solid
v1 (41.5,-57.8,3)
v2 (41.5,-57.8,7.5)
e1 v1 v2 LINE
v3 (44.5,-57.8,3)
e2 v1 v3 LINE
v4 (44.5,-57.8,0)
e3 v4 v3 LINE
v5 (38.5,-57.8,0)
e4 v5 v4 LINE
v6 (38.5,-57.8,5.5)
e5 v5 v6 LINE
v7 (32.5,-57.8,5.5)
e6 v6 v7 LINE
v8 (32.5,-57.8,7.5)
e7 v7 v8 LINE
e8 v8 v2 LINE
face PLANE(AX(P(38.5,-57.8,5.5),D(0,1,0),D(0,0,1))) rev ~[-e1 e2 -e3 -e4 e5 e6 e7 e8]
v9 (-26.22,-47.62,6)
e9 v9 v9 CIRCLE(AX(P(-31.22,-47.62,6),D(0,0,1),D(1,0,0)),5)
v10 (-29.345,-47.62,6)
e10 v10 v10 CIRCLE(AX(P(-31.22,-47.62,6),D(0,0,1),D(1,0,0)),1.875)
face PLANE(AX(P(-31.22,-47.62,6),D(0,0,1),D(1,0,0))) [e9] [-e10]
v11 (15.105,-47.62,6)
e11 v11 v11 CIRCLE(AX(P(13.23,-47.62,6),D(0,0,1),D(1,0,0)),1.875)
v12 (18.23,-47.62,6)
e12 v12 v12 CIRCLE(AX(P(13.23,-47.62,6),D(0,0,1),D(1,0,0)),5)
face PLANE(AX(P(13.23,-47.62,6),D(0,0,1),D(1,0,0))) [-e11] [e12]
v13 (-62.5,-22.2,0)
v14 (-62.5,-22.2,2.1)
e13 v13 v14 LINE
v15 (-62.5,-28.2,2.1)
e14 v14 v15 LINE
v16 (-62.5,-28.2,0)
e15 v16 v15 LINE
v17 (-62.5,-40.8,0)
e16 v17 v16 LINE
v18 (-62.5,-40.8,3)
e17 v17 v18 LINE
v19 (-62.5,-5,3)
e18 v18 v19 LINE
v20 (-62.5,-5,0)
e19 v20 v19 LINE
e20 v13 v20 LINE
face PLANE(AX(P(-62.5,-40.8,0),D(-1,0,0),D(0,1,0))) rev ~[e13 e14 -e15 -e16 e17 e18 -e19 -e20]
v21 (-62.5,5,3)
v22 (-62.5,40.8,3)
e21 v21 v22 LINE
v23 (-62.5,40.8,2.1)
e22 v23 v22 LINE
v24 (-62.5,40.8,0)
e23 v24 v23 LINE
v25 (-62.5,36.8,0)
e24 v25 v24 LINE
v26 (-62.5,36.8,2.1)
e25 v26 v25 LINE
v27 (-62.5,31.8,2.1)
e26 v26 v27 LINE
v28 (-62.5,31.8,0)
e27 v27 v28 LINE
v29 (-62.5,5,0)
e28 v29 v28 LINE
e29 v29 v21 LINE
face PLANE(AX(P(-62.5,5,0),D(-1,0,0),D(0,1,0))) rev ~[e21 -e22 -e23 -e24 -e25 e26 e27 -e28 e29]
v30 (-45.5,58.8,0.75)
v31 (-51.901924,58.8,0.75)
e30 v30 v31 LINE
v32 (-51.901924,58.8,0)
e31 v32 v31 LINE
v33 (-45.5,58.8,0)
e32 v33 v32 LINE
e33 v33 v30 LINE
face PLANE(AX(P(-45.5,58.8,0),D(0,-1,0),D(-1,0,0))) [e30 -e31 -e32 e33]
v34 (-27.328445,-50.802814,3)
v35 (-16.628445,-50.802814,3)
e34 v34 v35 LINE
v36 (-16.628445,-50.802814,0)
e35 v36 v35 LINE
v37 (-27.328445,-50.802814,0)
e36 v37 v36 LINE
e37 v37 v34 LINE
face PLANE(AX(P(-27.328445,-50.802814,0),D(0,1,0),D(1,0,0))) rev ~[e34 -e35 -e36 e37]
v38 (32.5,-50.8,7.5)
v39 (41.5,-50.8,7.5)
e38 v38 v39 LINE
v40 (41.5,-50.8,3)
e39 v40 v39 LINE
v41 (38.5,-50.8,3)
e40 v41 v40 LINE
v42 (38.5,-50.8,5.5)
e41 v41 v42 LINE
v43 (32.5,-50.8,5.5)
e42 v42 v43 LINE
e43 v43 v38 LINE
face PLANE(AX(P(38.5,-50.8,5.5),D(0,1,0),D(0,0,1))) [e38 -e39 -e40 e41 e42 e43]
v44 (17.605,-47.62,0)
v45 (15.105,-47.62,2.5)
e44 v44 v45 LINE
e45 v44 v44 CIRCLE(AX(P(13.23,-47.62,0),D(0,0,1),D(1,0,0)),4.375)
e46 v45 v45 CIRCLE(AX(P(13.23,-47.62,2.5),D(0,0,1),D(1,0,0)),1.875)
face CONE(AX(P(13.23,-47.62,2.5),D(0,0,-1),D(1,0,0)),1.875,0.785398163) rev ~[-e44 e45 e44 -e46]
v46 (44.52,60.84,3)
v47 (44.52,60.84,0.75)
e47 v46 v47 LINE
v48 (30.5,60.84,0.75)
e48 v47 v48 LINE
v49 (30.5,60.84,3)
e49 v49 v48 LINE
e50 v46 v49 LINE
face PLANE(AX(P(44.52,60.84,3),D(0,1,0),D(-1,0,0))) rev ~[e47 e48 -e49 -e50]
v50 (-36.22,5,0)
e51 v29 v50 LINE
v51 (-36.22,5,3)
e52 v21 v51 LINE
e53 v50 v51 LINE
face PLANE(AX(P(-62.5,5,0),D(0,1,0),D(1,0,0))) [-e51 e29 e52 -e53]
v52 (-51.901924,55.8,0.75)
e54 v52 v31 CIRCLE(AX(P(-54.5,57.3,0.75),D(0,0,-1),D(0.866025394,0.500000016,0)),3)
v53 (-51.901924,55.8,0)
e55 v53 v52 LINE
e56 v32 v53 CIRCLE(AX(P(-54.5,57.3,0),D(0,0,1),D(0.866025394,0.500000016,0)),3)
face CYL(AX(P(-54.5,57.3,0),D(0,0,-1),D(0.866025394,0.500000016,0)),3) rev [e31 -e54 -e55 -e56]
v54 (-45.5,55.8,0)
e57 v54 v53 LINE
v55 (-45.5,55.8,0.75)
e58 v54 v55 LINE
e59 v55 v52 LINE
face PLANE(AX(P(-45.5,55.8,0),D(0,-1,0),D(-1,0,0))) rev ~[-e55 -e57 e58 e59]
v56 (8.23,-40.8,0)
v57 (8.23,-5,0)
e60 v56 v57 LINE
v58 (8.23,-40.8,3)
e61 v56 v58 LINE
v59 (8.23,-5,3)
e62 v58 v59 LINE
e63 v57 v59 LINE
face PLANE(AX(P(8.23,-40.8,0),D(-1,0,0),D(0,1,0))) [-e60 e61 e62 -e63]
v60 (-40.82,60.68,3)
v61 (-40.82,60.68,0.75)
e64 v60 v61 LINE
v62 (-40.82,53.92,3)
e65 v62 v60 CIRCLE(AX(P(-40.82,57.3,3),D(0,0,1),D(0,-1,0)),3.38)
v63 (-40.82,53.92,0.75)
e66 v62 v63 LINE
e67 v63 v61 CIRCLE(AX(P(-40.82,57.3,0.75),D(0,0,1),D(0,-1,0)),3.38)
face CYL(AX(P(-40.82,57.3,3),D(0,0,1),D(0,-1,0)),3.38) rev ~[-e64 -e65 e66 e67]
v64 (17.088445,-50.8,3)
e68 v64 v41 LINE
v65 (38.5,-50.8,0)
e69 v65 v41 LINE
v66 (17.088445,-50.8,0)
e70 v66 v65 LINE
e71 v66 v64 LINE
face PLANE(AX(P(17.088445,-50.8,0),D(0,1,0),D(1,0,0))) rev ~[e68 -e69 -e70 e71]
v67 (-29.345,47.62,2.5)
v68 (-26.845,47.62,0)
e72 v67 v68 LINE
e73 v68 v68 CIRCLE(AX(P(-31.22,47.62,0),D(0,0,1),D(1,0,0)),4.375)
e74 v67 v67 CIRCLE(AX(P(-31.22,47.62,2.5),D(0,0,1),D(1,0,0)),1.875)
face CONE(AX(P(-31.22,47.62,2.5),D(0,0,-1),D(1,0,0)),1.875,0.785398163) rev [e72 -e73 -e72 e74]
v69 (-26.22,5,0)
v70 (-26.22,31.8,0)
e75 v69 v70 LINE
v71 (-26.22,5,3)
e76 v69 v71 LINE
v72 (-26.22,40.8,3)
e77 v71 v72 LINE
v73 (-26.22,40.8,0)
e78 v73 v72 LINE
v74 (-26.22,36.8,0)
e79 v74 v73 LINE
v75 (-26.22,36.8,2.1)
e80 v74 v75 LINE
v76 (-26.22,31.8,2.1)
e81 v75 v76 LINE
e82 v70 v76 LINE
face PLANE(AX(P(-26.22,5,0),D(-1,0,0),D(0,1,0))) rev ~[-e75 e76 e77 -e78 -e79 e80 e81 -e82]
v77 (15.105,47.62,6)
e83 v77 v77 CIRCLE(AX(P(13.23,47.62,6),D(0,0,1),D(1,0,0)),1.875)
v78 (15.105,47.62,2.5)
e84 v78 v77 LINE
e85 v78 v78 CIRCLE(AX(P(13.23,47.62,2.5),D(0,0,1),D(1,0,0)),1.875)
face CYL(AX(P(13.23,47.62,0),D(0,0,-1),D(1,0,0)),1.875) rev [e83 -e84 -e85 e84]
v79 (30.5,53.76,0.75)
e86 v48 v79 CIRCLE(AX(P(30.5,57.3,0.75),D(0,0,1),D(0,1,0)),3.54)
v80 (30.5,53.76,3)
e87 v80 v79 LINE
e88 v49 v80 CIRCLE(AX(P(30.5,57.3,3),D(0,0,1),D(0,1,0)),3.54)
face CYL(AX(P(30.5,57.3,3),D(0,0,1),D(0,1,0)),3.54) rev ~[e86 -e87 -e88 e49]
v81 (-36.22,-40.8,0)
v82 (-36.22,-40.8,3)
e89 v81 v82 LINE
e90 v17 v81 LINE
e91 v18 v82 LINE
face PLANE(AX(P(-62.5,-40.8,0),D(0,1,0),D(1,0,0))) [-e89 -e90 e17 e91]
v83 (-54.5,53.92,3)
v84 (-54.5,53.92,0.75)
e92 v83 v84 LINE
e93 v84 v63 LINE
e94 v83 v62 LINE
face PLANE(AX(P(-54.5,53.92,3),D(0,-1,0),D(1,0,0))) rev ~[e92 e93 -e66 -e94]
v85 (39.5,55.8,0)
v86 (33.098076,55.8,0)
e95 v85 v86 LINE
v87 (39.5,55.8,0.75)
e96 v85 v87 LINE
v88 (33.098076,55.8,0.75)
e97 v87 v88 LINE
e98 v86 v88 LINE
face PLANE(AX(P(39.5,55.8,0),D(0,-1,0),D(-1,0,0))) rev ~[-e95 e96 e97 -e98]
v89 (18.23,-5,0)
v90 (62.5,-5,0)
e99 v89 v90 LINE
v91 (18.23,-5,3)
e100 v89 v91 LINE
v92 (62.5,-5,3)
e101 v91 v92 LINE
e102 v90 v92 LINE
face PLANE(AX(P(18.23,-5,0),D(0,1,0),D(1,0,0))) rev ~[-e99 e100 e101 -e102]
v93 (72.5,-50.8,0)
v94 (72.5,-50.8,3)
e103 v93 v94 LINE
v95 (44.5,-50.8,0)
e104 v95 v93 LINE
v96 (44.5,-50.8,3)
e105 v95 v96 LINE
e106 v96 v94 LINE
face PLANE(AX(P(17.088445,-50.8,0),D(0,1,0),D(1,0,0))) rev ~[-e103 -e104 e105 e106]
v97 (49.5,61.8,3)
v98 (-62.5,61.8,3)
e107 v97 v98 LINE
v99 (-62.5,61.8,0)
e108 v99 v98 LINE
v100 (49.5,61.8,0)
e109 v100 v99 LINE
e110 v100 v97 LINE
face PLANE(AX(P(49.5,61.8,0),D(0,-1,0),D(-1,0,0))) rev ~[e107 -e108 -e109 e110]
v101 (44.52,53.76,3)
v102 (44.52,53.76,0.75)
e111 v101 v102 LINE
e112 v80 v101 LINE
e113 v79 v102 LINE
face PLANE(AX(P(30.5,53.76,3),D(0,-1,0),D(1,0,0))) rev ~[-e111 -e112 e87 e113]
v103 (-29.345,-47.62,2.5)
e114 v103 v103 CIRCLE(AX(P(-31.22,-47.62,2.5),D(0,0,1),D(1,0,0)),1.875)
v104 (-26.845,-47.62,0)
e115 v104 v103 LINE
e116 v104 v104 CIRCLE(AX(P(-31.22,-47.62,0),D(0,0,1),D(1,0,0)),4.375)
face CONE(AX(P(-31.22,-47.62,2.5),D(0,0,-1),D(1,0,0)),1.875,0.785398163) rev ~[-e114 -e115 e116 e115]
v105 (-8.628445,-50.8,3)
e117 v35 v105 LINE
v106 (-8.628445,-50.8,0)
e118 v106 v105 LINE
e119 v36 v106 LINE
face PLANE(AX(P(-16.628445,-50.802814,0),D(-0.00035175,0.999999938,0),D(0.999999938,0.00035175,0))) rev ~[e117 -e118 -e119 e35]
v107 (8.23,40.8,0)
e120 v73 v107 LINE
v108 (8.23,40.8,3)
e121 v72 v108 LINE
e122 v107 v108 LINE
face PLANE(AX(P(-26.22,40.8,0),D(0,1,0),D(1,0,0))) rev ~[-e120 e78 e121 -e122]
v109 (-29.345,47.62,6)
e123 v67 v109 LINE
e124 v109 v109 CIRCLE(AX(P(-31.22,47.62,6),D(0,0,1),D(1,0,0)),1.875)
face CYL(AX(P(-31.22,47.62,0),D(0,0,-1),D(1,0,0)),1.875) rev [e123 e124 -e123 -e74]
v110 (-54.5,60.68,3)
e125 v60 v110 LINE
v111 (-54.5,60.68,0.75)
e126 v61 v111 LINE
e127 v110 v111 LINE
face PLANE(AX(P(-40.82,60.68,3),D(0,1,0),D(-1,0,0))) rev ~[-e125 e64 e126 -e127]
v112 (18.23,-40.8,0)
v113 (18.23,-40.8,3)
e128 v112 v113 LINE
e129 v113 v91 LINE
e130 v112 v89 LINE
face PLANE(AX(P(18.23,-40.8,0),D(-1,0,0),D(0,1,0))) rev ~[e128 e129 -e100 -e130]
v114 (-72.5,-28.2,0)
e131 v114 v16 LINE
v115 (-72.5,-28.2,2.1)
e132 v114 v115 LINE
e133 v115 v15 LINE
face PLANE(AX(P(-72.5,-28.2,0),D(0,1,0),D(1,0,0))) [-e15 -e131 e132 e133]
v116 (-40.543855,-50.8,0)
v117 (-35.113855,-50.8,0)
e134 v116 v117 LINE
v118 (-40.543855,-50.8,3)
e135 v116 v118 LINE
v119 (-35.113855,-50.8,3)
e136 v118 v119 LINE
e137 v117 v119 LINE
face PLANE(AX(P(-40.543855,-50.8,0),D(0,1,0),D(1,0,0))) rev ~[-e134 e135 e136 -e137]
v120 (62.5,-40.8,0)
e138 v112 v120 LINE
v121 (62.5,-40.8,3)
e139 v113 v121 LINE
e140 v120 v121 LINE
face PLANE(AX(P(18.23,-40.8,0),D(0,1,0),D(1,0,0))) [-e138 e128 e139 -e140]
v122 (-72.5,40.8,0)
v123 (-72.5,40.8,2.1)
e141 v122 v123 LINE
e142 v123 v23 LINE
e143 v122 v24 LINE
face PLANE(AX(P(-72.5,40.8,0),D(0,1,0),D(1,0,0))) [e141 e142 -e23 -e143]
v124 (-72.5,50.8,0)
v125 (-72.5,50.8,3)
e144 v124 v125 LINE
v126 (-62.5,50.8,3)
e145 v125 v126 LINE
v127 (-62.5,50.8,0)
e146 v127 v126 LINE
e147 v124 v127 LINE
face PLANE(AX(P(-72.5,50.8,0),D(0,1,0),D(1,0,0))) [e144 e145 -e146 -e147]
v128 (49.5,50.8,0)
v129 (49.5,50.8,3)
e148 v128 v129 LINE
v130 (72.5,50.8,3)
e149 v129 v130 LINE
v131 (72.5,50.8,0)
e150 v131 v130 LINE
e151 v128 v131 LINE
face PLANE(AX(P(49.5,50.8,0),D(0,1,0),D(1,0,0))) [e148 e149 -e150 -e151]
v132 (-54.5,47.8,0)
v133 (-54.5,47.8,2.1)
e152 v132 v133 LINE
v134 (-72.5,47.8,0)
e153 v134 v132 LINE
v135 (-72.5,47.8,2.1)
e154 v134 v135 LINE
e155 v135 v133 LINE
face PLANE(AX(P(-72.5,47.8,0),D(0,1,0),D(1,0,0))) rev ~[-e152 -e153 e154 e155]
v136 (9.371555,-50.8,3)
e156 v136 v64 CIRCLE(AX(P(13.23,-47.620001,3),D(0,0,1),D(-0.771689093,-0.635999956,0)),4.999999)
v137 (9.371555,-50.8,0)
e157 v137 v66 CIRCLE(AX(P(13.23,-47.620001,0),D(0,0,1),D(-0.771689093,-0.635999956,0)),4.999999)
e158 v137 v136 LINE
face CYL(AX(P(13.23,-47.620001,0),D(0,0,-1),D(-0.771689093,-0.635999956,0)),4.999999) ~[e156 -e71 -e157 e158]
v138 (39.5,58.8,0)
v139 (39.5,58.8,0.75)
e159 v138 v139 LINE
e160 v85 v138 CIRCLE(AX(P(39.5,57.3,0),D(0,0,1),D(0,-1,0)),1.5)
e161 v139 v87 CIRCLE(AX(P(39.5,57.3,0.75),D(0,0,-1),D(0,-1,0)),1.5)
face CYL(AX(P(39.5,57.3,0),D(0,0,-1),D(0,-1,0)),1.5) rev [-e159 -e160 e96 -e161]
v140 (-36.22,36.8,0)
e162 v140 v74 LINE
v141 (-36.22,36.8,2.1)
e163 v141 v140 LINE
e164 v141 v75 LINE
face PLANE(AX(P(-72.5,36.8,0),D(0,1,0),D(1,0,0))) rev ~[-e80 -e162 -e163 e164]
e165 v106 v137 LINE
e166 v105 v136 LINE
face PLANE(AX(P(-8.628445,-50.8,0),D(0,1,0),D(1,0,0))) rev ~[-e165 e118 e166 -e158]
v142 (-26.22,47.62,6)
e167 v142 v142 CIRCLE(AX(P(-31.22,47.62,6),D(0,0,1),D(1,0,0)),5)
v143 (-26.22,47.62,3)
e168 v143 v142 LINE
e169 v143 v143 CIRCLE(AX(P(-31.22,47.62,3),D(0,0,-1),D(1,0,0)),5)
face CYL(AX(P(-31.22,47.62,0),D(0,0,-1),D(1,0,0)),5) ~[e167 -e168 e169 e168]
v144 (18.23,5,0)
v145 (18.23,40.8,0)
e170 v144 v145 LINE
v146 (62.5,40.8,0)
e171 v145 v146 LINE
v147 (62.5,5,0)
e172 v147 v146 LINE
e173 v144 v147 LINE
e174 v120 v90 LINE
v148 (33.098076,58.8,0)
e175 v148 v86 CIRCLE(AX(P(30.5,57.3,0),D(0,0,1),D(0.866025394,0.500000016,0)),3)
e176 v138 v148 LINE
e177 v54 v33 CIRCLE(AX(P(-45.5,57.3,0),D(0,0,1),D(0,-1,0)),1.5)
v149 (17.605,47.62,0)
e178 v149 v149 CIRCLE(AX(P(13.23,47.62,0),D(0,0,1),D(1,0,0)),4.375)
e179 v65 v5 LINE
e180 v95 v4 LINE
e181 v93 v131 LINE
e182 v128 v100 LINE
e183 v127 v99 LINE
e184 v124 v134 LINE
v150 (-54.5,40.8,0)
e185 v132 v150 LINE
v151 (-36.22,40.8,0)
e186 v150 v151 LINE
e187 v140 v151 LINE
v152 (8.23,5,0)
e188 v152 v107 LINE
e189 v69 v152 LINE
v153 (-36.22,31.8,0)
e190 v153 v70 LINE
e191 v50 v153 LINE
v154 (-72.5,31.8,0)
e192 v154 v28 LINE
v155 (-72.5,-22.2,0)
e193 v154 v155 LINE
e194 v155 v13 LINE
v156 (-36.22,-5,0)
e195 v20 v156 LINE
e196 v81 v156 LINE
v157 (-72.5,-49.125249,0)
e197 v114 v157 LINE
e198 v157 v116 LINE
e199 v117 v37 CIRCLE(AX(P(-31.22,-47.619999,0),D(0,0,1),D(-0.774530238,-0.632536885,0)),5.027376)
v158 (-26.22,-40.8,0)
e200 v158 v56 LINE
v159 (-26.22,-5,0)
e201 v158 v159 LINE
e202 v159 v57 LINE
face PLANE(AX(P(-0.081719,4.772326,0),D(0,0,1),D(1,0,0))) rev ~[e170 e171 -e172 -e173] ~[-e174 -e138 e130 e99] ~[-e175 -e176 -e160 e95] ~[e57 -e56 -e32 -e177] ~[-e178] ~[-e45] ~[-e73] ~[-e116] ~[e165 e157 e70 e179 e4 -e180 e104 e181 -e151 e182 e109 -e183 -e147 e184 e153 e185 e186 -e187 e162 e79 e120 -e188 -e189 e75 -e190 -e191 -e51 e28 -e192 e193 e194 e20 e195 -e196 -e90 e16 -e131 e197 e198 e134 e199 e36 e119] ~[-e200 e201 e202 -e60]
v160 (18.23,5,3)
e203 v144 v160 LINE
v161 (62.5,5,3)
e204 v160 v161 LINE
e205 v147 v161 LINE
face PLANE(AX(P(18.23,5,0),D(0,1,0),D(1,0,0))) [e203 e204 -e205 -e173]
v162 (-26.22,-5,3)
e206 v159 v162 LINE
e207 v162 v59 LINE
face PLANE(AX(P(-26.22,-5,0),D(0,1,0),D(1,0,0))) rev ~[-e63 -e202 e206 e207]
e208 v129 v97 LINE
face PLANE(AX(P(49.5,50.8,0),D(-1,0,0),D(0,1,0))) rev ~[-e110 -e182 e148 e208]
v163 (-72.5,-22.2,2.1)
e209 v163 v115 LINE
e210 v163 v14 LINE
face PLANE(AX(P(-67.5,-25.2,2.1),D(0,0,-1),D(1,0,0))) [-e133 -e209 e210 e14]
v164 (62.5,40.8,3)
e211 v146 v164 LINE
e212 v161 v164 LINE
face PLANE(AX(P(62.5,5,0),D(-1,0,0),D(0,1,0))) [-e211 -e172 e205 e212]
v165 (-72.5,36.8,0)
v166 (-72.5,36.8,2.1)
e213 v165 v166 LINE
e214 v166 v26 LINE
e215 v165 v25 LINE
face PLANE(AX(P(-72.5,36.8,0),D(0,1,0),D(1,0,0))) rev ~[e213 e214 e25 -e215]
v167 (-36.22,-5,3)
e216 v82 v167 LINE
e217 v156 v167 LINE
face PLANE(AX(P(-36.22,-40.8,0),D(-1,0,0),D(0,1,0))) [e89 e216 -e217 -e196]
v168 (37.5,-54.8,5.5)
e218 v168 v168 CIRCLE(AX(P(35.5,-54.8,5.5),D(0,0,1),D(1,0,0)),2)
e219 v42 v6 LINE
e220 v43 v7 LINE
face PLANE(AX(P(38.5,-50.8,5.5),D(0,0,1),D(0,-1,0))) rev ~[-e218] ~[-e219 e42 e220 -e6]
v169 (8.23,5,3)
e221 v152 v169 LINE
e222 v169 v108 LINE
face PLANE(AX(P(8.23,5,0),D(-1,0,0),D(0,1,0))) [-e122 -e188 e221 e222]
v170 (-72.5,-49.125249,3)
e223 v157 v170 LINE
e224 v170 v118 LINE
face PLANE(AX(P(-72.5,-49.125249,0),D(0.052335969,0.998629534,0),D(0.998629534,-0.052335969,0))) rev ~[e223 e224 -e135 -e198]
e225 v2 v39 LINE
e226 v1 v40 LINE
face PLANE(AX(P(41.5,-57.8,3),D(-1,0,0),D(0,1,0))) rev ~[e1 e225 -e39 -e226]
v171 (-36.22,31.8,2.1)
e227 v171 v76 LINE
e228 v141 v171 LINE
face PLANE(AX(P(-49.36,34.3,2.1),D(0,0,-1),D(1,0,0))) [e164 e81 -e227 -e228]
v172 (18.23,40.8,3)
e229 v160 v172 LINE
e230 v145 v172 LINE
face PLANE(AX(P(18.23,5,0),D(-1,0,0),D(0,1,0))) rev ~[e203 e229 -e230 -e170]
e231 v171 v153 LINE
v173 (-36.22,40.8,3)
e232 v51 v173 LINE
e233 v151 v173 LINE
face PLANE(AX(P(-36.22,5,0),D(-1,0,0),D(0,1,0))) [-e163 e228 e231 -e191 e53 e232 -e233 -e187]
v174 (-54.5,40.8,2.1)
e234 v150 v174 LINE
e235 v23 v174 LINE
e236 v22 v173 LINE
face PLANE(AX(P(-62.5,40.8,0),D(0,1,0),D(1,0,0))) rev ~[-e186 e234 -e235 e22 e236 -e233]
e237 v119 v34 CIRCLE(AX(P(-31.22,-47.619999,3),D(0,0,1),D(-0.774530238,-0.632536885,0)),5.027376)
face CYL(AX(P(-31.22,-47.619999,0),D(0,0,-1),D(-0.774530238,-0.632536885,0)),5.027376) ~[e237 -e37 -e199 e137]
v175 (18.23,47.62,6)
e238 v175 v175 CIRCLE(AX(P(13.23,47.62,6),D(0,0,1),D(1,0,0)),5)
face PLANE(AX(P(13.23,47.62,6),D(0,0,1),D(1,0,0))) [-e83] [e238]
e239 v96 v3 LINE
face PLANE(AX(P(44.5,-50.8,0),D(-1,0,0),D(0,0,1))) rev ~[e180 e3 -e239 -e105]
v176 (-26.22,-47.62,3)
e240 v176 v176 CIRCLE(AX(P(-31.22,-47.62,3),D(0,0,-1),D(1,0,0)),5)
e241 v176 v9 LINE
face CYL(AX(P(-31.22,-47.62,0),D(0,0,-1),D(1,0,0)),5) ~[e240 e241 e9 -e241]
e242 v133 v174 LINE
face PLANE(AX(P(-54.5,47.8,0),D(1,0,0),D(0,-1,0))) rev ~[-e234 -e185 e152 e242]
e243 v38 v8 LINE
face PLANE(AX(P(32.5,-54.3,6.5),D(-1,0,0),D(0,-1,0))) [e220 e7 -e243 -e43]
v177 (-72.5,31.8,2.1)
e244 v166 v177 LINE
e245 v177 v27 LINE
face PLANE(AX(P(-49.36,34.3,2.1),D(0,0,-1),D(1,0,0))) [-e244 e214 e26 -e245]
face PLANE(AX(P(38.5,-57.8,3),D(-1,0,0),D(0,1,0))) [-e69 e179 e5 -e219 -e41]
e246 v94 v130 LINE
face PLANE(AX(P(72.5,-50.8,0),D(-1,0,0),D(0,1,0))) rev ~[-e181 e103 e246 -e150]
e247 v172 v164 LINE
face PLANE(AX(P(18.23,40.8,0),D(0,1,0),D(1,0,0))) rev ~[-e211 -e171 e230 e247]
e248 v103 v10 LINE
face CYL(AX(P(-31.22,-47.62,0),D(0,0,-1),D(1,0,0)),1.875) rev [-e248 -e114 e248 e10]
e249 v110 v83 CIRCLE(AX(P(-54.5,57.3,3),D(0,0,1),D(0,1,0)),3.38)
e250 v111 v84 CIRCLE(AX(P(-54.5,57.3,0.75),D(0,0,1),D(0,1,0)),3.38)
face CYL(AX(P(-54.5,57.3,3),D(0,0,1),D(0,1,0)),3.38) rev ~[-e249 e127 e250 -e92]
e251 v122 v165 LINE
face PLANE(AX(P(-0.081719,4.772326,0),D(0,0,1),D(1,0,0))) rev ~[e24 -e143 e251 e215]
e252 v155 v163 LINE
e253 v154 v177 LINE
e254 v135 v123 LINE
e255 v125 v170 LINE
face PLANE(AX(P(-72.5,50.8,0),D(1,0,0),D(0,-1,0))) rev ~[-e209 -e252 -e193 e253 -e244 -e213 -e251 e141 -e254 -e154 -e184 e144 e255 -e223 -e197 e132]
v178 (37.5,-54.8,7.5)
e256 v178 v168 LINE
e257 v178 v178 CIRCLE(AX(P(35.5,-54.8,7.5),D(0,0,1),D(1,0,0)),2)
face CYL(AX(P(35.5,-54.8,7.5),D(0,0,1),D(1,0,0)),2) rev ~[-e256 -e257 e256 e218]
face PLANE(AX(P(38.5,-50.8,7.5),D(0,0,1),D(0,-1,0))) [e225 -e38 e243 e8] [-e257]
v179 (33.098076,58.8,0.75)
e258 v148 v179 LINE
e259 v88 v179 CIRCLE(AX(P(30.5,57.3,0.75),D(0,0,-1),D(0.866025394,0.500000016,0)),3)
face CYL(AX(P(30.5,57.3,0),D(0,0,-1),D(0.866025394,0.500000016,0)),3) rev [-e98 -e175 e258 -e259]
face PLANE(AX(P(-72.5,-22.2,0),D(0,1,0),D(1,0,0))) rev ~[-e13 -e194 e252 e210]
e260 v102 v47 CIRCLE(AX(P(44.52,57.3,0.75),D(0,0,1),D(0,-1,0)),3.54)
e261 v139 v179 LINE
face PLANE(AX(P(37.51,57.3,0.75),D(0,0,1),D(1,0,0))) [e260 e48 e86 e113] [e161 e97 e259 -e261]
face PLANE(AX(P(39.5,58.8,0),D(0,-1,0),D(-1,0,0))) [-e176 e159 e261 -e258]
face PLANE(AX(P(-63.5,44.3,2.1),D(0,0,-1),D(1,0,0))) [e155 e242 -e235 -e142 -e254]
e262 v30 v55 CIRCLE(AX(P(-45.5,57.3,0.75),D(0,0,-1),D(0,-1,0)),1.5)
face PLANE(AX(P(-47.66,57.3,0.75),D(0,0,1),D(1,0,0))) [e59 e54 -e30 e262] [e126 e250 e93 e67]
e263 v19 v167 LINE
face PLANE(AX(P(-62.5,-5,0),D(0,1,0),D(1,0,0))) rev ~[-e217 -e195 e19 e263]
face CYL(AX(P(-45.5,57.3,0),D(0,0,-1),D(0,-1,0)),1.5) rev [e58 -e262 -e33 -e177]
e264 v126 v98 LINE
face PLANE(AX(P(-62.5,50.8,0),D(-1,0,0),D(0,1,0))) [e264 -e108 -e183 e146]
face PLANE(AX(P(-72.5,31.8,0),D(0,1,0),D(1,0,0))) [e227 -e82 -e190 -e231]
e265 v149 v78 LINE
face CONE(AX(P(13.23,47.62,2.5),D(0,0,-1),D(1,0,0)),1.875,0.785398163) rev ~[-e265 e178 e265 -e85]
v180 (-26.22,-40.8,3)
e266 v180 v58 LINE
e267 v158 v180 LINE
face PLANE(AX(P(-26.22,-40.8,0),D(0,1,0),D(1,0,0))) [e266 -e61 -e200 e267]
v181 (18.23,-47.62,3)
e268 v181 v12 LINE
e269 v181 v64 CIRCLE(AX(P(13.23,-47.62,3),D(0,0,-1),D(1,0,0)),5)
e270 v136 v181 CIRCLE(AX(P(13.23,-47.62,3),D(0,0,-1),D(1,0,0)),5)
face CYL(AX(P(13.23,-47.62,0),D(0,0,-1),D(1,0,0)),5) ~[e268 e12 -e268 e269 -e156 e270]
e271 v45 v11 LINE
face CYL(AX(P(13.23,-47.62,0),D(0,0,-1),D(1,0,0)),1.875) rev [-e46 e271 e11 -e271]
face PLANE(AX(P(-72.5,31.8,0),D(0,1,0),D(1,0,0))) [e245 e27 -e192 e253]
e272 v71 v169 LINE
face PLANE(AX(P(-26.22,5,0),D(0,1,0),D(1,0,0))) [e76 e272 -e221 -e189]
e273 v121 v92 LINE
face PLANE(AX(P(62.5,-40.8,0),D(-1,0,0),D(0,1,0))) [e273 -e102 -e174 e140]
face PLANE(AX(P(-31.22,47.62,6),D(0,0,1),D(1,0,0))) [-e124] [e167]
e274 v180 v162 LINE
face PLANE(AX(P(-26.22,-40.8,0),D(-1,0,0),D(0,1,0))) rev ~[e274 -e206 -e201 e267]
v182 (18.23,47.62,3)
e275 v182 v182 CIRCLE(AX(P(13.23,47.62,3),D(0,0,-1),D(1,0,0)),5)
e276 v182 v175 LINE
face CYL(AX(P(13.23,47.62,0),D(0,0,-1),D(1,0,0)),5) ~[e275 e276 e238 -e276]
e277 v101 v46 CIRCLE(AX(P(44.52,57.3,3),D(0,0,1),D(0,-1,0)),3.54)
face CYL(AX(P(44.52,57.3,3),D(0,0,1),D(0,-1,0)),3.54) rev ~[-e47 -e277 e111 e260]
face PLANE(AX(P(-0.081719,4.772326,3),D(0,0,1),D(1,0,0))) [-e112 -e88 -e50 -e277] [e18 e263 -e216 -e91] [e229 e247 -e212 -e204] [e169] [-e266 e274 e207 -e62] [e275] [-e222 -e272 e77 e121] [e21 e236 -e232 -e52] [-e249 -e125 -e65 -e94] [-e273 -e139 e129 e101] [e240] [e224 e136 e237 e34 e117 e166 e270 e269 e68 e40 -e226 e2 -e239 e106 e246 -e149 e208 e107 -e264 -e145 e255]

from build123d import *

# Parameters (mm, degrees)
SKETCH_R        = 1.875
SKETCH_W        = 26.28
SKETCH_H        = 35.8
SKETCH_W_2      = 34.45
SKETCH_W_3      = 44.27
PAD_DEPTH       = 3
SKETCH001_W     = 6
SKETCH001_H     = 3
PAD001_DEPTH    = 7
SKETCH002_W     = 3
SKETCH002_H     = 7
PAD002_DEPTH    = 4.5
SKETCH003_W     = 7
SKETCH003_H     = 2
PAD003_DEPTH    = 6
SKETCH004_R     = 2
POCKET_DEPTH    = 5
SKETCH005_R     = 5
SKETCH005_R_2   = 1.875
PAD004_DEPTH    = 6
POCKET001_DEPTH = 2.25
CHAMFER_SIZE    = 2.5
SKETCH007_W     = 46.28
SKETCH007_H     = 5
SKETCH007_W_2   = 18
SKETCH007_H_2   = 7
SKETCH007_W_3   = 10
SKETCH007_H_3   = 6
POCKET002_DEPTH = 2.1


with BuildPart() as part:
    # Sketch → Pad (new body)
    with BuildSketch(Plane.XY):
        with BuildLine():
            Line((-72.5, 50.8), (-72.5, -49.125249))
            Line((-72.5, -49.125249), (-40.543855, -50.8))
            Line((-40.543855, -50.8), (-35.113855, -50.8))
            ThreePointArc((-35.113855, -50.8), (-31.221817, -52.647375), (-27.328445, -50.802814))
            Line((-27.328445, -50.802814), (-16.628445, -50.802814))
            Line((-16.628445, -50.802814), (-8.628445, -50.8))
            Line((-8.628445, -50.8), (9.371555, -50.8))
            ThreePointArc((9.371555, -50.8), (13.23, -52.62), (17.088445, -50.8))
            Line((17.088445, -50.8), (72.5, -50.8))
            Line((72.5, -50.8), (72.5, 50.8))
            Line((49.5, 50.8), (72.5, 50.8))
            Line((49.5, 50.8), (49.5, 61.8))
            Line((49.5, 61.8), (-62.5, 61.8))
            Line((-62.5, 50.8), (-62.5, 61.8))
            Line((-72.5, 50.8), (-62.5, 50.8))
        make_face()
        with Locations((13.23, 47.62)):
            Circle(SKETCH_R, mode=Mode.SUBTRACT)
        with Locations((13.23, -47.62)):
            Circle(SKETCH_R, mode=Mode.SUBTRACT)
        with Locations((-31.22, -47.62)):
            Circle(SKETCH_R, mode=Mode.SUBTRACT)
        with Locations((-31.22, 47.62)):
            Circle(SKETCH_R, mode=Mode.SUBTRACT)
        with Locations((-49.36, 22.9)):
            Rectangle(SKETCH_W, SKETCH_H, mode=Mode.SUBTRACT)
        with Locations((-8.995, 22.9)):
            Rectangle(SKETCH_W_2, SKETCH_H, mode=Mode.SUBTRACT)
        with Locations((40.365, 22.9)):
            Rectangle(SKETCH_W_3, SKETCH_H, mode=Mode.SUBTRACT)
        with Locations((40.365, -22.9)):
            Rectangle(SKETCH_W_3, SKETCH_H, mode=Mode.SUBTRACT)
        with Locations((-8.995, -22.9)):
            Rectangle(SKETCH_W_2, SKETCH_H, mode=Mode.SUBTRACT)
        with Locations((-49.36, -22.9)):
            Rectangle(SKETCH_W, SKETCH_H, mode=Mode.SUBTRACT)
        with BuildLine():
            ThreePointArc((-45.5, 55.8), (-44, 57.3), (-45.5, 58.8))
            Line((-45.5, 58.8), (-51.901924, 58.8))
            ThreePointArc((-51.901924, 58.8), (-57.5, 57.3), (-51.901924, 55.8))
            Line((-45.5, 55.8), (-51.901924, 55.8))
        make_face(mode=Mode.SUBTRACT)
        with BuildLine():
            ThreePointArc((39.5, 55.8), (41, 57.3), (39.5, 58.8))
            Line((39.5, 58.8), (33.098076, 58.8))
            ThreePointArc((33.098076, 58.8), (27.5, 57.3), (33.098076, 55.8))
            Line((39.5, 55.8), (33.098076, 55.8))
        make_face(mode=Mode.SUBTRACT)
    extrude(amount=PAD_DEPTH)

    # Sketch001 (on Face9 of Pad) → Pad001 (join)
    with BuildSketch(Plane.XZ.offset(50.8)):
        with Locations((41.5, 1.5)):
            Rectangle(SKETCH001_W, SKETCH001_H)
    extrude(amount=PAD001_DEPTH)

    # Sketch002 (on Face56 of Pad001) → Pad002 (join)
    with BuildSketch(Plane.XY.offset(3)):
        with Locations((40, -54.3)):
            Rectangle(SKETCH002_W, SKETCH002_H)
    extrude(amount=PAD002_DEPTH)

    # Sketch003 (on Face61 of Pad002) → Pad003 (join)
    with BuildSketch(Plane(origin=(38.5, 0, 0), x_dir=(0, -1, 0), z_dir=(-1, 0, 0))):
        with Locations((54.3, 6.5)):
            Rectangle(SKETCH003_W, SKETCH003_H)
    extrude(amount=PAD003_DEPTH)

    # Sketch004 (on Face67 of Pad003) → Pocket (cut)
    with BuildSketch(Plane.XY.offset(7.5)):
        with Locations((35.5, -54.8)):
            Circle(SKETCH004_R)
    extrude(amount=-POCKET_DEPTH, mode=Mode.SUBTRACT)

    # Sketch005 → Pad004 (join)
    with BuildSketch(Plane.XY):
        with Locations((-31.22, 47.62)):
            Circle(SKETCH005_R)
        with Locations((-31.22, 47.62)):
            Circle(SKETCH005_R_2, mode=Mode.SUBTRACT)
        with Locations((13.23, 47.62)):
            Circle(SKETCH005_R)
        with Locations((13.23, 47.62)):
            Circle(SKETCH005_R_2, mode=Mode.SUBTRACT)
        with Locations((-31.22, -47.62)):
            Circle(SKETCH005_R)
        with Locations((-31.22, -47.62)):
            Circle(SKETCH005_R_2, mode=Mode.SUBTRACT)
        with Locations((13.23, -47.62)):
            Circle(SKETCH005_R)
        with Locations((13.23, -47.62)):
            Circle(SKETCH005_R_2, mode=Mode.SUBTRACT)
    extrude(amount=PAD004_DEPTH)

    # Sketch006 (on Face5 of Pad004) → Pocket001 (cut)
    with BuildSketch(Plane.XY.offset(3)):
        with BuildLine():
            ThreePointArc((-54.5, 60.68), (-57.88, 57.3), (-54.5, 53.92))
            Line((-54.5, 53.92), (-40.82, 53.92))
            ThreePointArc((-40.82, 53.92), (-37.44, 57.3), (-40.82, 60.68))
            Line((-40.82, 60.68), (-54.5, 60.68))
        make_face()
        with BuildLine():
            ThreePointArc((30.5, 60.84), (26.96, 57.3), (30.5, 53.76))
            Line((30.5, 53.76), (44.52, 53.76))
            ThreePointArc((44.52, 53.76), (48.06, 57.3), (44.52, 60.84))
            Line((44.52, 60.84), (30.5, 60.84))
        make_face()
    extrude(amount=-POCKET001_DEPTH, mode=Mode.SUBTRACT)

    # Chamfer
    chamfer_edges = [part.edges().sort_by_distance(p)[0] for p in [
        (-29.345, -47.62, 1.5),
        (-33.095, -47.62, 0),
        (-33.095, -47.62, 3),
        (15.105, -47.62, 1.5),
        (11.355, -47.62, 0),
        (11.355, -47.62, 3),
        (-29.345, 47.62, 1.5),
        (-33.095, 47.62, 0),
        (-33.095, 47.62, 3),
        (15.105, 47.62, 1.5),
        (11.355, 47.62, 0),
        (11.355, 47.62, 3),
    ]]
    chamfer(chamfer_edges, length=CHAMFER_SIZE)

    # Sketch007 (on Face52 of Pad) → Pocket002 (cut)
    with BuildSketch(Plane(origin=(0, 0, 0), x_dir=(1, 0, 0), z_dir=(0, 0, -1))):
        with Locations((-49.36, -34.3)):
            Rectangle(SKETCH007_W, SKETCH007_H)
        with Locations((-63.5, -44.3)):
            Rectangle(SKETCH007_W_2, SKETCH007_H_2)
        with Locations((-67.5, 25.2)):
            Rectangle(SKETCH007_W_3, SKETCH007_H_3)
    extrude(amount=-POCKET002_DEPTH, mode=Mode.SUBTRACT)


solid = part.part
